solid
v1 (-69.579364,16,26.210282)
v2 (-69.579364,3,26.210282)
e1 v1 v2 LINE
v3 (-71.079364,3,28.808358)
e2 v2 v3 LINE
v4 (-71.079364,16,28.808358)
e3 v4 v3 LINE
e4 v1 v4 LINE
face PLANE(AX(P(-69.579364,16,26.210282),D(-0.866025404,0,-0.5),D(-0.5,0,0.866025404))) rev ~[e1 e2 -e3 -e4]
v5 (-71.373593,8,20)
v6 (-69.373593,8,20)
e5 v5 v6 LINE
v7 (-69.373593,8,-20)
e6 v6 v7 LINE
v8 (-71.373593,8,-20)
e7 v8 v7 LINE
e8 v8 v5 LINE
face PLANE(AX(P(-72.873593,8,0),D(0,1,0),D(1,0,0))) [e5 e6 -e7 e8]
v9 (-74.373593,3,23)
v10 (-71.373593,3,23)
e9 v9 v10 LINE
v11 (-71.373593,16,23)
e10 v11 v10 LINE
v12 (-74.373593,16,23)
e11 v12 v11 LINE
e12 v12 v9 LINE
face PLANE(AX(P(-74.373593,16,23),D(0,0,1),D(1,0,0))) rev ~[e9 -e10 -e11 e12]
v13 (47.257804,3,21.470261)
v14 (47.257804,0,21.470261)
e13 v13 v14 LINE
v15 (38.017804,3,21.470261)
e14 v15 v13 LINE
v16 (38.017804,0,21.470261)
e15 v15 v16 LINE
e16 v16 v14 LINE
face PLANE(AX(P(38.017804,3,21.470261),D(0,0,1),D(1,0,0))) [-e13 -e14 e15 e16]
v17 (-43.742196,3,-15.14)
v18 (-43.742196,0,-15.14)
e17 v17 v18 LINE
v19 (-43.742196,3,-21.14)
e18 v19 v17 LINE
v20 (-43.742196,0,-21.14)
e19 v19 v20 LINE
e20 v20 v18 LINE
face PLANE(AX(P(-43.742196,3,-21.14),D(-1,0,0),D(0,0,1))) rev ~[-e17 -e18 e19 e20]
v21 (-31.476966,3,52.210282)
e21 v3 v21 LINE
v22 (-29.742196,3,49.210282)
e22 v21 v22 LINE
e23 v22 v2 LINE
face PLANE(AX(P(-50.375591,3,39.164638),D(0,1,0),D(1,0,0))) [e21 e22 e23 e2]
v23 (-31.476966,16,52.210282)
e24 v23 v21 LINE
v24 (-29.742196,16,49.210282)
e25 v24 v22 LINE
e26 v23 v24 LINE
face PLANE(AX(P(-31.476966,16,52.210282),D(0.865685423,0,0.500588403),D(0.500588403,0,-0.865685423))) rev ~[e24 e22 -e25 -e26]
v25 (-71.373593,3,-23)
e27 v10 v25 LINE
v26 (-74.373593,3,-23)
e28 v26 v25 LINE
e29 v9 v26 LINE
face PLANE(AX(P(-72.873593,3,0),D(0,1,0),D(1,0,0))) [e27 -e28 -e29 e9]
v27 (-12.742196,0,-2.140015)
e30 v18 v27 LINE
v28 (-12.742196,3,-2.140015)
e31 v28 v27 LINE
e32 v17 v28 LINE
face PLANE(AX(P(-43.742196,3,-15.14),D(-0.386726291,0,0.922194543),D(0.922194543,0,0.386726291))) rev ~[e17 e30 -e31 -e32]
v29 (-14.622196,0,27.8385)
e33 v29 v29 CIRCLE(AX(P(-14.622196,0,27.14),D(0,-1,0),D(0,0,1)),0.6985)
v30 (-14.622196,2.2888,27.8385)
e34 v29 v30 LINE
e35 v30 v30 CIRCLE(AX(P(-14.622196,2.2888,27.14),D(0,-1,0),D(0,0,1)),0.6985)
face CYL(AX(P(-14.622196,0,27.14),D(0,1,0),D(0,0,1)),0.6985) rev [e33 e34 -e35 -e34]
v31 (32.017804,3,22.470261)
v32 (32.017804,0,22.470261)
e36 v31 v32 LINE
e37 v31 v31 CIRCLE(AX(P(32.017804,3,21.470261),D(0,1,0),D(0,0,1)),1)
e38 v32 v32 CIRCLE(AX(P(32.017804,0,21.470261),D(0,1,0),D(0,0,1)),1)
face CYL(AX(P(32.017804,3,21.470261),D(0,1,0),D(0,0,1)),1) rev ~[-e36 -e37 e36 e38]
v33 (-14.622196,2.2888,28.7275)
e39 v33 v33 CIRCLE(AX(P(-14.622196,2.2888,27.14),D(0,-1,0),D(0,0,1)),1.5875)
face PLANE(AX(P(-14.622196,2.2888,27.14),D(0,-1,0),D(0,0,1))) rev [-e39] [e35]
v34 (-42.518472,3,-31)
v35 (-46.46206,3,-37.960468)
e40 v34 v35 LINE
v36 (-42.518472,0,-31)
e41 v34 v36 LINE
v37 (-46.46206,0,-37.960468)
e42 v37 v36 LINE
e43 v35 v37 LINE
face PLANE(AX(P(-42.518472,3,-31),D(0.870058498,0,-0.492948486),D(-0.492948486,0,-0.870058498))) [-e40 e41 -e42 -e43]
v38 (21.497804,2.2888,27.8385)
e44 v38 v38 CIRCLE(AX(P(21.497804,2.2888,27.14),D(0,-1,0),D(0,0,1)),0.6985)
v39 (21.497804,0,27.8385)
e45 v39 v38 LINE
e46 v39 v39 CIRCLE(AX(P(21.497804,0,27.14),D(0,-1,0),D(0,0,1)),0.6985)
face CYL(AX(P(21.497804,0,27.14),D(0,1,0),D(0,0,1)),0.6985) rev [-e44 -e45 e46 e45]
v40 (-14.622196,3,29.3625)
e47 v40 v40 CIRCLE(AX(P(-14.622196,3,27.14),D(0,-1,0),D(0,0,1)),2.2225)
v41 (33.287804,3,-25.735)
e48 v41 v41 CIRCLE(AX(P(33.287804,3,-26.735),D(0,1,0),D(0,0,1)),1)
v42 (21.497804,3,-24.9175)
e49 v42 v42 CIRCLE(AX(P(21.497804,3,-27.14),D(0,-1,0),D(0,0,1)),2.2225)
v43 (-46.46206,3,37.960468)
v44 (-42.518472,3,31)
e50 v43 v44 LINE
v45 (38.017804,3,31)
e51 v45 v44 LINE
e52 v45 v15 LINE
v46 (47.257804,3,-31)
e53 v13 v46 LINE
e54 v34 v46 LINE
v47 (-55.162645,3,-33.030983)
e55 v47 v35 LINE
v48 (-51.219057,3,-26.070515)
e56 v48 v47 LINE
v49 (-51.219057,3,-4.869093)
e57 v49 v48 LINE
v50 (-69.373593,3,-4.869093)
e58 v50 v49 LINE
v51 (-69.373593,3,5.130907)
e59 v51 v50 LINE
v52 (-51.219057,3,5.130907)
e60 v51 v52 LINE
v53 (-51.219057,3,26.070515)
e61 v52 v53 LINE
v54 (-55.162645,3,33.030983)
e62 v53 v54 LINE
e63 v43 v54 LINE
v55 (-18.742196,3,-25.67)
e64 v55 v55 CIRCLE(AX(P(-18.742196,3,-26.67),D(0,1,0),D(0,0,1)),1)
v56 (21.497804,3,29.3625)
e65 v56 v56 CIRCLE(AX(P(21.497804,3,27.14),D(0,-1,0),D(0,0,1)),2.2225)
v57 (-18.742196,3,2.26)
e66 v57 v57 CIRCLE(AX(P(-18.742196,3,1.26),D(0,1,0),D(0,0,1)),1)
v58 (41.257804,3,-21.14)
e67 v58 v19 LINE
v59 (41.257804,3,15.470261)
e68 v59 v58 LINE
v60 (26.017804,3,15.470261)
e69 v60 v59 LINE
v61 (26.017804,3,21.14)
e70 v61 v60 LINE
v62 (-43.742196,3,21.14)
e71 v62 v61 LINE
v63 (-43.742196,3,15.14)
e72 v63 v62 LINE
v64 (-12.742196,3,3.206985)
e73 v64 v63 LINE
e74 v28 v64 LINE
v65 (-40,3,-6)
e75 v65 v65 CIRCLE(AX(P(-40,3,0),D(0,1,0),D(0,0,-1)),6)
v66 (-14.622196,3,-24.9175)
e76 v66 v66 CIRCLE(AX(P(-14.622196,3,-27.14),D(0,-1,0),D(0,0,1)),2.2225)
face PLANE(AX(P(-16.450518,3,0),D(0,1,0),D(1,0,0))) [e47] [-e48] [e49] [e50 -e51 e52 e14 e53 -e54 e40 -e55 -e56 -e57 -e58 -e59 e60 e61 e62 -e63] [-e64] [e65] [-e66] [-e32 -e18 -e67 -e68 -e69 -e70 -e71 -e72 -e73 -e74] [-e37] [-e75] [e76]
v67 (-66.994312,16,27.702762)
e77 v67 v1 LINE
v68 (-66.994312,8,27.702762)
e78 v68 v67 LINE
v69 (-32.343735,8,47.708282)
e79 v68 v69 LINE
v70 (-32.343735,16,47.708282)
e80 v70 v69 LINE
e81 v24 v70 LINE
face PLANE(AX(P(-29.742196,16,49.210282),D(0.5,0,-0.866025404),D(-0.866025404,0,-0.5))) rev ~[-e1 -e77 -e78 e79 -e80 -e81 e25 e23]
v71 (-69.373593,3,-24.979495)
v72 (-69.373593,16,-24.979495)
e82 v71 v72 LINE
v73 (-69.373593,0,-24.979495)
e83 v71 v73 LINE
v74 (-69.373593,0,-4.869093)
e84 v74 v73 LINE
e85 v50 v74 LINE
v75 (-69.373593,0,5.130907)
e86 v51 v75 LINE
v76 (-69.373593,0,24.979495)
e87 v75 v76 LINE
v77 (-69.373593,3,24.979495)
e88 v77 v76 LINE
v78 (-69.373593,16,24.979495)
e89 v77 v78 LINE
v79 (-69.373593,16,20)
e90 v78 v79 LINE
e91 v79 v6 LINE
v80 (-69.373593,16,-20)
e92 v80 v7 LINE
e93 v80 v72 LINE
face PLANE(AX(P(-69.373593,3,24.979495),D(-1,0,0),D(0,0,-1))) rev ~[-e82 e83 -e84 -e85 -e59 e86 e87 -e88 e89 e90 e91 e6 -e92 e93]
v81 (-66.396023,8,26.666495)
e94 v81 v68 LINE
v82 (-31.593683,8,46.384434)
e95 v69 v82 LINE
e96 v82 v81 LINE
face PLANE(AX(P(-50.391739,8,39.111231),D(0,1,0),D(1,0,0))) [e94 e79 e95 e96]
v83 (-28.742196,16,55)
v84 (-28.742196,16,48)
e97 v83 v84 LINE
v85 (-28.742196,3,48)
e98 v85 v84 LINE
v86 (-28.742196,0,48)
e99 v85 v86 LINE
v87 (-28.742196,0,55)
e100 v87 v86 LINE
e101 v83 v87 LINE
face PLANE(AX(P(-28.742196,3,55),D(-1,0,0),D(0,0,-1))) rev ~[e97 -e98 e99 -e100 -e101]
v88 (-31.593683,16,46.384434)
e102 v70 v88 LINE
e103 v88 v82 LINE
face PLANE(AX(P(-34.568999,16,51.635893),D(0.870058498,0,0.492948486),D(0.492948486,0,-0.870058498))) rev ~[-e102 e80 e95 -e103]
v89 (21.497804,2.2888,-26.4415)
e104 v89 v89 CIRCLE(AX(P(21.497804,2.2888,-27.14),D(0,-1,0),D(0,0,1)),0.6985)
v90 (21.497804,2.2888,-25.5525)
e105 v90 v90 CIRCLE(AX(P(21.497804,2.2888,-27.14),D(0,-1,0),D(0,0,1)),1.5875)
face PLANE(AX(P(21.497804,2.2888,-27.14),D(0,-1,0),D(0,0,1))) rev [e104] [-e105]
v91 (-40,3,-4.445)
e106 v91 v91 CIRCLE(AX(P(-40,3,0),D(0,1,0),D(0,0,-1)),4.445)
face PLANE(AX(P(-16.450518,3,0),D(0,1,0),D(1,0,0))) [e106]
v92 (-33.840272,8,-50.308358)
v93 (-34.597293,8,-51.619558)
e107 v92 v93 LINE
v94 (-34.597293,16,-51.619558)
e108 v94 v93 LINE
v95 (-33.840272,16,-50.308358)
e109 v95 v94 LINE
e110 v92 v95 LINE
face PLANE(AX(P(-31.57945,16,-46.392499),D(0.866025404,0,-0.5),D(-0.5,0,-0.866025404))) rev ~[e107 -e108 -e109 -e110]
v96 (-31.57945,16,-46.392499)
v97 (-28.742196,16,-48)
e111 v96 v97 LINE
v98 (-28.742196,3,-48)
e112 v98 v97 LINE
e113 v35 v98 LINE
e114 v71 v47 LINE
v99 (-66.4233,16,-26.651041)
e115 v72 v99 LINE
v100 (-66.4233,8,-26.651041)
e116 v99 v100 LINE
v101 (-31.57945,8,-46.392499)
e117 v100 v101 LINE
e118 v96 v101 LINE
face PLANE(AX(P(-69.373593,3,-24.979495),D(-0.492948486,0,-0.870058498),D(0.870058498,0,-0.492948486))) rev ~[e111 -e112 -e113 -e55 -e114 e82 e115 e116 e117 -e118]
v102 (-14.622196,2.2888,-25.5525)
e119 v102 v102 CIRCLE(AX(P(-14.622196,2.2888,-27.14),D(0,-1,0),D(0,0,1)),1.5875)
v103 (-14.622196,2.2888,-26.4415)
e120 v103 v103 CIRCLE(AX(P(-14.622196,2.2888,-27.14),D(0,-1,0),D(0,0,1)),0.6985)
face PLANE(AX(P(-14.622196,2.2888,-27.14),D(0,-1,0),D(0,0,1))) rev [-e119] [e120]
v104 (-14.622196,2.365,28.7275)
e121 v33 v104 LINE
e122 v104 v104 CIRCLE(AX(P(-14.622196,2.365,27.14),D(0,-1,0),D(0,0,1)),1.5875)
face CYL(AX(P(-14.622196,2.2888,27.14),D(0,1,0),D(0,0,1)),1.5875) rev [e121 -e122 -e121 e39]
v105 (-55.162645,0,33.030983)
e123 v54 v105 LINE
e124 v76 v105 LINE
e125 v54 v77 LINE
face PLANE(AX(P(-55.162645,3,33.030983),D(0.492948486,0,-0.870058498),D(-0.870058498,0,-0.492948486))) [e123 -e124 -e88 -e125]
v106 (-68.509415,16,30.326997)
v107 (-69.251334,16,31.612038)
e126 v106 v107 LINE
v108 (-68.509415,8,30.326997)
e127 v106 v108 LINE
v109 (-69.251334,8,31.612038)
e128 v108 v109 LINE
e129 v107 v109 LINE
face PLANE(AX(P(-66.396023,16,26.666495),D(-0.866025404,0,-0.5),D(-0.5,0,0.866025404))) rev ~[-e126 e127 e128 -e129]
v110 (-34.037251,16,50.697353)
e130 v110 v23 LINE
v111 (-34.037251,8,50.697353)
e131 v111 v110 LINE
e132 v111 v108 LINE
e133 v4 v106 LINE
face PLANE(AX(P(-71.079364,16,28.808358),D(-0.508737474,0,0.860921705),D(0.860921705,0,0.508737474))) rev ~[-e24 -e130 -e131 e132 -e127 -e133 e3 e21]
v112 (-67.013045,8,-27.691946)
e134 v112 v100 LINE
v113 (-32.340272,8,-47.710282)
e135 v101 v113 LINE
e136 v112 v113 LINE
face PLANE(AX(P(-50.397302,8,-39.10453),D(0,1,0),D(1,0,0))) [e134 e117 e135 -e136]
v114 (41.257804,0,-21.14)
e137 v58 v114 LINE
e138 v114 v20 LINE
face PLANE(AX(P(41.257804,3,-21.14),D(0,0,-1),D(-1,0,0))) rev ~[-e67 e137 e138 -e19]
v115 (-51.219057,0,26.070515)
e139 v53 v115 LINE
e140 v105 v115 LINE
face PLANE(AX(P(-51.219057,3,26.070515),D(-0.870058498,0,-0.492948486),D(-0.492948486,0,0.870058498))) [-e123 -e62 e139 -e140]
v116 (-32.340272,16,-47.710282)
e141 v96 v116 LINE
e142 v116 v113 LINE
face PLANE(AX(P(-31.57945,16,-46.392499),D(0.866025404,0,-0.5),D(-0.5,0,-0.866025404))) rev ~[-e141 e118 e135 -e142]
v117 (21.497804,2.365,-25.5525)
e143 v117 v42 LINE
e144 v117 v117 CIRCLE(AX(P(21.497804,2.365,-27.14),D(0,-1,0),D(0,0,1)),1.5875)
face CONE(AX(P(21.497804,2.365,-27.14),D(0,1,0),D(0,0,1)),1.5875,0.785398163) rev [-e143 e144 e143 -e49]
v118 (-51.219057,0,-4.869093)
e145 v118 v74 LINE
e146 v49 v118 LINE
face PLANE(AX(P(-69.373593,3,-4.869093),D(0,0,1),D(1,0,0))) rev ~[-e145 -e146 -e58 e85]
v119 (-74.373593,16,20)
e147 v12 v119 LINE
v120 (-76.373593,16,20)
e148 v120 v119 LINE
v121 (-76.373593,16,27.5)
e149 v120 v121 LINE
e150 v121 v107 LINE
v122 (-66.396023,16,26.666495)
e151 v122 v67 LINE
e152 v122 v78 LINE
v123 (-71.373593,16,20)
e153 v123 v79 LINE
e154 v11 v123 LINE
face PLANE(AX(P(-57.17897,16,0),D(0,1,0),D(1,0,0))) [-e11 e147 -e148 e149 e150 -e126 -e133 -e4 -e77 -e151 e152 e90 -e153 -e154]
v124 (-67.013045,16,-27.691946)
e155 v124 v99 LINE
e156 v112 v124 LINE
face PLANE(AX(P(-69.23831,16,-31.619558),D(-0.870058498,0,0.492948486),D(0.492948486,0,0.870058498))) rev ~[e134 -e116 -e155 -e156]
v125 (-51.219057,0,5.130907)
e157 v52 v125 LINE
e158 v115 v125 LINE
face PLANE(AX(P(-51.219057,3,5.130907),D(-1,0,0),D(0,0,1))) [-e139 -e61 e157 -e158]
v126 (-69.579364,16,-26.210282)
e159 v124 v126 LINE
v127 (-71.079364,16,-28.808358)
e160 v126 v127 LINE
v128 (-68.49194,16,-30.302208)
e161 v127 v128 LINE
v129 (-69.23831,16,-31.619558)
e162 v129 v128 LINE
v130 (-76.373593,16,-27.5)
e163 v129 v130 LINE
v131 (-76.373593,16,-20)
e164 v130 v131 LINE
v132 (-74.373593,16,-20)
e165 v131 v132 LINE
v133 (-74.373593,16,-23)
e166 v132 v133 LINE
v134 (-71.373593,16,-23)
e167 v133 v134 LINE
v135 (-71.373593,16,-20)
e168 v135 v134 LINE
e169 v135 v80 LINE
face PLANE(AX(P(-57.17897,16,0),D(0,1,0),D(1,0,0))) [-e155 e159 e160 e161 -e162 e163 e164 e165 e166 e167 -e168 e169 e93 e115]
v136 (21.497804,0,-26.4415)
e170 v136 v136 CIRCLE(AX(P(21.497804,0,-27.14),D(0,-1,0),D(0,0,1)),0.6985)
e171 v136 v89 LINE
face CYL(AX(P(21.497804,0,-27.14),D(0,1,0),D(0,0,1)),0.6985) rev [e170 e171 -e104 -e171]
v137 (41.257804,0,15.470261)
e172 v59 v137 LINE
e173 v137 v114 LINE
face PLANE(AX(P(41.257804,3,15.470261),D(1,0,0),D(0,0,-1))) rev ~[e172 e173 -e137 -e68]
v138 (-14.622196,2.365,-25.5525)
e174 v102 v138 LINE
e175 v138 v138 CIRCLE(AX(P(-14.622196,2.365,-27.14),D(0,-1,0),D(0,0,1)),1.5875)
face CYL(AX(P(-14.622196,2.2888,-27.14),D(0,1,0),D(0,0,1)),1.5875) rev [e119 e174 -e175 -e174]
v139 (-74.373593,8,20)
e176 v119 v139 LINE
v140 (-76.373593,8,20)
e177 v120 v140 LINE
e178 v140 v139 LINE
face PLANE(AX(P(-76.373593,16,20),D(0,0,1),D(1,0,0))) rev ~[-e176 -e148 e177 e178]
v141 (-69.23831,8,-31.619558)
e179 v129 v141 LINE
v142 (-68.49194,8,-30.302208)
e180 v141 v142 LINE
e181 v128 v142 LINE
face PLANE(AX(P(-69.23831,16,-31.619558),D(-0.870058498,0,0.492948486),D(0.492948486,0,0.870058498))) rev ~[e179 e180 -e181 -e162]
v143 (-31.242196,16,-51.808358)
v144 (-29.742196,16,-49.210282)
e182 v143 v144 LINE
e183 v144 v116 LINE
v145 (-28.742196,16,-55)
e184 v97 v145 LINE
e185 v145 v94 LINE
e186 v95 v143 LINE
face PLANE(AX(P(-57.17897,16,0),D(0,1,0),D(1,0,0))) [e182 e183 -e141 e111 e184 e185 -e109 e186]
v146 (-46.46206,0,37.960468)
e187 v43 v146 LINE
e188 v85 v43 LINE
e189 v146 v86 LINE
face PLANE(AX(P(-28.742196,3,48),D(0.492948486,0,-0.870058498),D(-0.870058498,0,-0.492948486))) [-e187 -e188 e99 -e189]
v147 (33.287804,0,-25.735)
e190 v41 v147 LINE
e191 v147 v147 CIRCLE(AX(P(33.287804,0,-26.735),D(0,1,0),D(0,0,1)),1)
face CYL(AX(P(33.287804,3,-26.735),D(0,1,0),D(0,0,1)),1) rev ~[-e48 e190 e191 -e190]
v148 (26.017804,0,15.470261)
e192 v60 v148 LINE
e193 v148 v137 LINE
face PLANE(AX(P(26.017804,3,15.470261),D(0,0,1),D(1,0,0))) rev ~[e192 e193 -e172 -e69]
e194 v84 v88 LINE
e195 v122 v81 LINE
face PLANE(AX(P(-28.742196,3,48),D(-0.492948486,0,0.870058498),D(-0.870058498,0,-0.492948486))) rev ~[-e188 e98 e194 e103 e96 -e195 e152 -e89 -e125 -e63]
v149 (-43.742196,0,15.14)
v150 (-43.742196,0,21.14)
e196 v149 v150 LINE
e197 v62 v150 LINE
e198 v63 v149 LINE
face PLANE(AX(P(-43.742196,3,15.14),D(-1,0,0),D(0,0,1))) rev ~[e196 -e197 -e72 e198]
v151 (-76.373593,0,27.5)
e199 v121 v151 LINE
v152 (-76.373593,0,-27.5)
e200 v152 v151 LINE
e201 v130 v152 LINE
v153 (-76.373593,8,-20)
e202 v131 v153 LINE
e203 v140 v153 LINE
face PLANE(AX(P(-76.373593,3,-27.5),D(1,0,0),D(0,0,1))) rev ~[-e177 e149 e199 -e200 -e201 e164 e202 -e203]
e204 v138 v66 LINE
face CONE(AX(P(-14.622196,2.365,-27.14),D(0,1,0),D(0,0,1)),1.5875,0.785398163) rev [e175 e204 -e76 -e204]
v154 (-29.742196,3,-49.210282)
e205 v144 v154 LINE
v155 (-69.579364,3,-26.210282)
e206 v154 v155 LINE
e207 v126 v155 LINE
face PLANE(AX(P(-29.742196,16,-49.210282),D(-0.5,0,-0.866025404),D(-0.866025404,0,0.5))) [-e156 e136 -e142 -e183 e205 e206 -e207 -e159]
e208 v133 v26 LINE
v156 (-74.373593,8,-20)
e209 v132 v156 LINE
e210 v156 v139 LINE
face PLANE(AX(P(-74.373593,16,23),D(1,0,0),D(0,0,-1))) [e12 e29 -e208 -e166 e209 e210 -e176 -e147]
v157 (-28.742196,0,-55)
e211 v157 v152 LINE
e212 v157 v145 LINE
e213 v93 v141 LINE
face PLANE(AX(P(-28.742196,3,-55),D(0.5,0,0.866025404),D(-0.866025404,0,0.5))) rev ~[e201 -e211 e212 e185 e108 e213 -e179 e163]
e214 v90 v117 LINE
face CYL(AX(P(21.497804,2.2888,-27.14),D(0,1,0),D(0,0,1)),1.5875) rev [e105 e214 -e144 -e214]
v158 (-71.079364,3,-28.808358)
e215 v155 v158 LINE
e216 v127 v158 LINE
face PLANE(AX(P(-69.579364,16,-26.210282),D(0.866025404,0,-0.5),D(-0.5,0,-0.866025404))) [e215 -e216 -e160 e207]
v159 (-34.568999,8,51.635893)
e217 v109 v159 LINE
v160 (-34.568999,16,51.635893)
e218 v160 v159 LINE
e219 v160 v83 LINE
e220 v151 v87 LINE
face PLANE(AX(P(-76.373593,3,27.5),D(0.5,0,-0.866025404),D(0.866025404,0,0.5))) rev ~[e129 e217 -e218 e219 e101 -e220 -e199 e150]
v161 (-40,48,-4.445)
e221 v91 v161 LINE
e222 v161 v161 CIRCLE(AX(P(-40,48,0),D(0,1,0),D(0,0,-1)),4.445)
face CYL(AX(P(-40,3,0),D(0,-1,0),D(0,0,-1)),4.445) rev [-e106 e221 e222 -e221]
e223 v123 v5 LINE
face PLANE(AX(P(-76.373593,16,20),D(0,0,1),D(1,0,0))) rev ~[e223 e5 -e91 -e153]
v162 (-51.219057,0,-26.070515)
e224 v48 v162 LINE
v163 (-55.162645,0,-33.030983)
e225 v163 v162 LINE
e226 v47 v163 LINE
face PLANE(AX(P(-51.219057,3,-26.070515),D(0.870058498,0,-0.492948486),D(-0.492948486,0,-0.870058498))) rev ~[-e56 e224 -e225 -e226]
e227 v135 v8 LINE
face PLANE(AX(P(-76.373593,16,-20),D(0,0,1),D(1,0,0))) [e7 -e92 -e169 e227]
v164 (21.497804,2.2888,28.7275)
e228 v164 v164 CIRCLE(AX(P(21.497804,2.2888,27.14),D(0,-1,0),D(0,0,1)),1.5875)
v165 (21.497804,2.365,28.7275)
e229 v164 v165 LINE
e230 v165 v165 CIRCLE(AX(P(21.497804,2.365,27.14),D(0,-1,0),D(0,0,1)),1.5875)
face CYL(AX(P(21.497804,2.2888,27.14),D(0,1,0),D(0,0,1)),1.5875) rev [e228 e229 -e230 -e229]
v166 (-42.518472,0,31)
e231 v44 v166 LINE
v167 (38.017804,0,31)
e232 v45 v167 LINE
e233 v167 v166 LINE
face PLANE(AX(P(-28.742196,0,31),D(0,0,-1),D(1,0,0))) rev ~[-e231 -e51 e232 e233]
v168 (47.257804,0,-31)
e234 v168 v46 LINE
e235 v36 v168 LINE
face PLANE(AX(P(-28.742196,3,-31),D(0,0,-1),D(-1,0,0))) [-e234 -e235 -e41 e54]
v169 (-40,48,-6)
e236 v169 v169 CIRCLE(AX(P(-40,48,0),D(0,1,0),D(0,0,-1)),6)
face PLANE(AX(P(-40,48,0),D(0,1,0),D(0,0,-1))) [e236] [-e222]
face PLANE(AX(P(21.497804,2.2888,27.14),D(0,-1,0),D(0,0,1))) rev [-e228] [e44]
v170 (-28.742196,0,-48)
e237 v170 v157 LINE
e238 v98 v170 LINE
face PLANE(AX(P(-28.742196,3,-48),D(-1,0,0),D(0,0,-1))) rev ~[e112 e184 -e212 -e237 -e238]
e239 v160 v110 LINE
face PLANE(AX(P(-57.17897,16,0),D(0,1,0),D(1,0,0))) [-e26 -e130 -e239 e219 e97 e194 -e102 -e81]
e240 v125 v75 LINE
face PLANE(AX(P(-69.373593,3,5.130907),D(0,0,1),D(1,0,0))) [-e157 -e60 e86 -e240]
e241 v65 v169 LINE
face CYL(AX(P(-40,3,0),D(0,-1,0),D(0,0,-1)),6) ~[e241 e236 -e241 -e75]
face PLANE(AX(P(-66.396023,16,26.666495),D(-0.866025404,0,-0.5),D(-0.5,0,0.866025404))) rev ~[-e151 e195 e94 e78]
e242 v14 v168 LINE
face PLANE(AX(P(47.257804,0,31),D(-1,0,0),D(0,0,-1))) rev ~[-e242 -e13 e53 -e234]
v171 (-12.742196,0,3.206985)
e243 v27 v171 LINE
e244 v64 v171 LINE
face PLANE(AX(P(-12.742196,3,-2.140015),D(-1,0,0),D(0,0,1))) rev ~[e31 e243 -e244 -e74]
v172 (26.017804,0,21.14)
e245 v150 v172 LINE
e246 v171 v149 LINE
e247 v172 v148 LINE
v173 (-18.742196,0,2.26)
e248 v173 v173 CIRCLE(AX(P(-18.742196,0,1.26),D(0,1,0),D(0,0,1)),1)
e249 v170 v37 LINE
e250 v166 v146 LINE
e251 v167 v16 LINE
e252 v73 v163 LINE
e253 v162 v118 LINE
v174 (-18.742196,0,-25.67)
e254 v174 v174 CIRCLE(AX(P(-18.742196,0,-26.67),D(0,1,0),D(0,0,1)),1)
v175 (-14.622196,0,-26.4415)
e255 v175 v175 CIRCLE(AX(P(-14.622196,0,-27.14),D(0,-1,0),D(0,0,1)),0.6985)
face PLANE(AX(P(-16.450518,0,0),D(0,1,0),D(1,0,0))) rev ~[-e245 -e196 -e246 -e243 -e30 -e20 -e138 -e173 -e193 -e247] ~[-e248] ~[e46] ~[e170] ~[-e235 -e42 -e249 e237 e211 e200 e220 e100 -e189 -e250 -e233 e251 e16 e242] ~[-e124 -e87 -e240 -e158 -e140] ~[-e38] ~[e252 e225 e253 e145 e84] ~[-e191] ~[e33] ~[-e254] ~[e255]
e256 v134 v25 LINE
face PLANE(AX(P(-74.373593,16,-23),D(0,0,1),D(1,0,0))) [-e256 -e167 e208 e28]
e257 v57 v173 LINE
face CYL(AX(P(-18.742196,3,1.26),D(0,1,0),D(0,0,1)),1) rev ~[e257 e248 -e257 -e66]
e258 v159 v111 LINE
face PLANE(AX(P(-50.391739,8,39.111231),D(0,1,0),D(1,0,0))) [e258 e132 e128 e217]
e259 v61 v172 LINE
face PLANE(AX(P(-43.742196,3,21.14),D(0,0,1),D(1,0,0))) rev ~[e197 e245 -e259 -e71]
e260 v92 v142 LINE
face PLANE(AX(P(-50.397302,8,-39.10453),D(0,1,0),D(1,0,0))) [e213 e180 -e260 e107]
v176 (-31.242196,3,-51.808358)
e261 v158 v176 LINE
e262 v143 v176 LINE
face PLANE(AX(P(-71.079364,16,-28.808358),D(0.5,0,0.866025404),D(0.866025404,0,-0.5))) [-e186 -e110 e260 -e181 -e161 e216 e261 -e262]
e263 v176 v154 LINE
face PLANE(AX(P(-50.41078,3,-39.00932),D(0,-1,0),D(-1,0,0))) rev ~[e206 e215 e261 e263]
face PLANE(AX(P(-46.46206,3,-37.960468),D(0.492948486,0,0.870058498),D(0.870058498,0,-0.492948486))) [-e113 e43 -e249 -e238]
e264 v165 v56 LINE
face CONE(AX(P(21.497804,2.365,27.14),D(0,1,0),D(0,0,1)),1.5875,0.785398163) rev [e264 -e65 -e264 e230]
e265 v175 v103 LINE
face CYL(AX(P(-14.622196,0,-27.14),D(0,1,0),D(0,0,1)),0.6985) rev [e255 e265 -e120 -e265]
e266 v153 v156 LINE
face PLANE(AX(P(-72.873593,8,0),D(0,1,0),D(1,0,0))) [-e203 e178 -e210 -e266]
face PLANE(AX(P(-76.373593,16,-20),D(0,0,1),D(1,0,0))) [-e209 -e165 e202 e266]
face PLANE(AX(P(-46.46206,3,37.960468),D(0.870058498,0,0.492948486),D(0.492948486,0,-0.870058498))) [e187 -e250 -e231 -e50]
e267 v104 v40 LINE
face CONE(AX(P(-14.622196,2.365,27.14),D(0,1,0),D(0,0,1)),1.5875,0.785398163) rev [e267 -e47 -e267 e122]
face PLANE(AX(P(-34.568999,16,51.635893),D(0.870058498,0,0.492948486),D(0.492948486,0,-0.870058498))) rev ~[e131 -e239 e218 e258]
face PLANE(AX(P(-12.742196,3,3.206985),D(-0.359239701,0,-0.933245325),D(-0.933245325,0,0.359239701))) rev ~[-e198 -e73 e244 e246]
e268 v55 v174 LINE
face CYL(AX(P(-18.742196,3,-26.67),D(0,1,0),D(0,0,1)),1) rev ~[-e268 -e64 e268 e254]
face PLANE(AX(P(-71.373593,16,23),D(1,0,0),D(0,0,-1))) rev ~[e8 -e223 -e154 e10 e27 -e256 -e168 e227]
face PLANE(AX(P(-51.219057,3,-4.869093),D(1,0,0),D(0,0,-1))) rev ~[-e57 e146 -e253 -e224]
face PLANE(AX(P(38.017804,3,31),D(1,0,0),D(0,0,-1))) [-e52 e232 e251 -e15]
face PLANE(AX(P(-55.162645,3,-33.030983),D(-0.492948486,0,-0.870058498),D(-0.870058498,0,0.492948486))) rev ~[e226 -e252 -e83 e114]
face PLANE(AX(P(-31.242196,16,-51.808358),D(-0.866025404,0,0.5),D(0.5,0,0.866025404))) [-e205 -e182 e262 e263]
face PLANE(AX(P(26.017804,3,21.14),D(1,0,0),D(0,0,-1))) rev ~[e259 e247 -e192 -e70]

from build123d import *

# Parameters (mm, degrees)
BOSS_EXTRUDE1_DEPTH                         = 3
BOSS_EXTRUDE7_DEPTH                         = 13
SKETCH14_W                                  = 3
SKETCH14_H                                  = 46
CUT_EXTRUDE1_DEPTH                          = 13
SKETCH15_W                                  = 7
SKETCH15_H                                  = 40
CUT_EXTRUDE3_DEPTH                          = 8
CUT_EXTRUDE5_REACH                          = 97.01
SKETCH18_R                                  = 6
SKETCH18_R_2                                = 4.445
BOSS_EXTRUDE8_DEPTH                         = 45
CBORE_FOR_00_BINDING_HEAD_MACHINE_S_2_COUNT = 2
CBORE_FOR_00_BINDING_HEAD_MACHINE_S_2_PITCH = 54.28
CBORE_FOR_00_BINDING_HEAD_MACHINE_S_3_COUNT = 2
CBORE_FOR_00_BINDING_HEAD_MACHINE_S_3_PITCH = 65.199484661
CBORE_FOR_00_BINDING_HEAD_MACHINE_S_4_COUNT = 2
CBORE_FOR_00_BINDING_HEAD_MACHINE_S_4_PITCH = 36.12
SKETCH22_R                                  = 1
CUT_EXTRUDE6_DEPTH                          = 105.321261807
CUT_EXTRUDE8_DEPTH                          = 105.321261807
SKETCH24_W                                  = 9.24
SKETCH24_H                                  = 9.529738598
CUT_EXTRUDE9_DEPTH                          = 105.321261807


with BuildPart() as part:
    # Sketch1 → Boss-Extrude1 (new body)
    with BuildSketch(Plane(origin=(0, 0, 0), x_dir=(1, 0, 0), z_dir=(0, 1, 0))):
        Polygon((-76.37359272, 27.5), (-76.37359272, -27.5), (-28.742195512, -55), (-28.742195512, -31), (47.257804488, -31), (47.257804488, 31), (-28.742195512, 31), (-28.742195512, 55), align=None)
    extrude(amount=BOSS_EXTRUDE1_DEPTH)

    # Sketch11 → Boss-Extrude7 (add)
    with BuildSketch(Plane(origin=(0, 3, 0), x_dir=(1, 0, 0), z_dir=(0, 1, 0))):
        Polygon((-28.742195512, -55), (-28.742195512, -48), (-69.37359272, -24.979495292), (-69.37359272, 24.979495292), (-28.742195512, 48), (-28.742195512, 55), (-76.37359272, 27.5), (-76.37359272, -27.5), align=None)
    extrude(amount=BOSS_EXTRUDE7_DEPTH)

    # Sketch14 → Cut-Extrude1 (cut)
    with BuildSketch(Plane(origin=(0, 16, 0), x_dir=(1, 0, 0), z_dir=(0, 1, 0))):
        Polygon((-29.742195512, 49.210281508), (-69.579364086, 26.210281508), (-71.079364086, 28.80835772), (-31.242195512, 51.80835772), align=None)
        with Locations((-72.87359272, 0)):
            Rectangle(SKETCH14_W, SKETCH14_H)
        Polygon((-71.079364086, -28.80835772), (-31.476965636, -52.210281508), (-29.742195512, -49.210281508), (-69.579364086, -26.210281508), align=None)
    extrude(amount=-CUT_EXTRUDE1_DEPTH, mode=Mode.SUBTRACT)

    # Sketch15 → Cut-Extrude3 (cut)
    with BuildSketch(Plane(origin=(0, 16, 0), x_dir=(1, 0, 0), z_dir=(0, 1, 0))):
        with Locations((-72.87359272, 0)):
            Rectangle(SKETCH15_W, SKETCH15_H)
        Polygon((-69.238309522, 31.619557675), (-66.423300051, 26.651040721), (-31.579449527, 46.392498809), (-34.59729337, 51.619557675), align=None)
        Polygon((-66.396023158, -26.666494973), (-69.251333812, -31.612038098), (-34.568999008, -51.635893433), (-31.593683239, -46.384434424), align=None)
    extrude(amount=-CUT_EXTRUDE3_DEPTH, mode=Mode.SUBTRACT)

    # Sketch17 → Cut-Extrude5 (cut, up to next)
    with BuildSketch(Plane(origin=(0, 3, 0), x_dir=(1, 0, 0), z_dir=(0, 1, 0)), mode=Mode.PRIVATE) as cut_extrude5_sk1:
        Polygon((-69.37359272, -24.979495292), (-69.37359272, -5.130907192), (-51.219056623, -5.130907192), (-51.219056623, -26.070515137), (-55.162644513, -33.030983121), align=None)
    cut_extrude5_tool1 = extrude(cut_extrude5_sk1.sketch, amount=-CUT_EXTRUDE5_REACH, mode=Mode.PRIVATE) & part.part
    # Sketch17 → Cut-Extrude5 (cut, up to next)
    with BuildSketch(Plane(origin=(0, 3, 0), x_dir=(1, 0, 0), z_dir=(0, 1, 0)), mode=Mode.PRIVATE) as cut_extrude5_sk2:
        Polygon((-69.37359272, 24.979495292), (-69.37359272, 4.869092808), (-51.219056623, 4.869092808), (-51.219056623, 26.070515137), (-55.162644513, 33.030983121), align=None)
    cut_extrude5_tool2 = extrude(cut_extrude5_sk2.sketch, amount=-CUT_EXTRUDE5_REACH, mode=Mode.PRIVATE) & part.part
    # Sketch17 → Cut-Extrude5 (cut, up to next)
    with BuildSketch(Plane(origin=(0, 3, 0), x_dir=(1, 0, 0), z_dir=(0, 1, 0)), mode=Mode.PRIVATE) as cut_extrude5_sk3:
        Polygon((-28.742195512, -48), (-46.462059534, -37.960467984), (-42.518471644, -31), (-28.742195512, -31), align=None)
    cut_extrude5_tool3 = extrude(cut_extrude5_sk3.sketch, amount=-CUT_EXTRUDE5_REACH, mode=Mode.PRIVATE) & part.part
    # Sketch17 → Cut-Extrude5 (cut, up to next)
    with BuildSketch(Plane(origin=(0, 3, 0), x_dir=(1, 0, 0), z_dir=(0, 1, 0)), mode=Mode.PRIVATE) as cut_extrude5_sk4:
        Polygon((-28.742195512, 31), (-42.518471644, 31), (-46.462059534, 37.960467984), (-28.742195512, 48), align=None)
    cut_extrude5_tool4 = extrude(cut_extrude5_sk4.sketch, amount=-CUT_EXTRUDE5_REACH, mode=Mode.PRIVATE) & part.part
    add(cut_extrude5_tool1.solids().sort_by_distance((-59.97086, 3, 17.234777))[0], mode=Mode.SUBTRACT)
    add(cut_extrude5_tool2.solids().sort_by_distance((-59.974373, 3, -17.10271))[0], mode=Mode.SUBTRACT)
    add(cut_extrude5_tool3.solids().sort_by_distance((-35.757612, 3, 37.618563))[0], mode=Mode.SUBTRACT)
    add(cut_extrude5_tool4.solids().sort_by_distance((-35.757612, 3, -37.618563))[0], mode=Mode.SUBTRACT)

    # Sketch18 → Boss-Extrude8 (add)
    with BuildSketch(Plane(origin=(0, 3, 0), x_dir=(1, 0, 0), z_dir=(0, 1, 0))):
        with Locations(Location((-40, 0, 0), (0, 0, 90))):
            Circle(SKETCH18_R)
        with Locations(Location((-40, 0, 0), (0, 0, 90))):
            Circle(SKETCH18_R_2, mode=Mode.SUBTRACT)
    extrude(amount=BOSS_EXTRUDE8_DEPTH)

    # Sketch21 → CBORE for #00 Binding Head Machine Screw1 (revolve, cut)
    with BuildSketch(Plane(origin=(-14.622195512, 3, 27.14), x_dir=(0, 0, 1), z_dir=(1, 0, 0))):
        Polygon((0, 0), (0, 3), (0.6985, 3), (0.6985, 0.7112), (1.5875, 0.7112), (1.5875, 0.635), (2.2225, 0), align=None)
    cbore_for_00_binding_head_machine_screw = revolve(axis=Axis((-14.622195512, 9.35, 27.14), (0, -1, 0)), mode=Mode.SUBTRACT)

    # CBORE for _00 Binding Head Machine S 2: CBORE for #00 Binding Head Machine Screw1 ×2
    with Locations(*[(0, 0, -i * CBORE_FOR_00_BINDING_HEAD_MACHINE_S_2_PITCH) for i in range(1, CBORE_FOR_00_BINDING_HEAD_MACHINE_S_2_COUNT)]):
        add(cbore_for_00_binding_head_machine_screw, mode=Mode.SUBTRACT)

    # CBORE for _00 Binding Head Machine S 3: CBORE for #00 Binding Head Machine Screw1 ×2
    with Locations(*[Vector(0.5539921088035915, 0, -0.832521917659439) * (i * CBORE_FOR_00_BINDING_HEAD_MACHINE_S_3_PITCH) for i in range(1, CBORE_FOR_00_BINDING_HEAD_MACHINE_S_3_COUNT)]):
        add(cbore_for_00_binding_head_machine_screw, mode=Mode.SUBTRACT)

    # CBORE for _00 Binding Head Machine S 4: CBORE for #00 Binding Head Machine Screw1 ×2
    with Locations(*[(i * CBORE_FOR_00_BINDING_HEAD_MACHINE_S_4_PITCH, 0, 0) for i in range(1, CBORE_FOR_00_BINDING_HEAD_MACHINE_S_4_COUNT)]):
        add(cbore_for_00_binding_head_machine_screw, mode=Mode.SUBTRACT)

    # Sketch22 → Cut-Extrude6 (cut, through all)
    with BuildSketch(Plane(origin=(0, 3, 0), x_dir=(1, 0, 0), z_dir=(0, 1, 0))):
        with Locations(Location((33.287804488, 26.734999831, 0), (0, 0, 270))):
            Circle(SKETCH22_R)
        with Locations(Location((32.017804488, -21.470261402, 0), (0, 0, 270))):
            Circle(SKETCH22_R)
        with Locations(Location((-18.742195512, 26.67, 0), (0, 0, 270))):
            Circle(SKETCH22_R)
        with Locations(Location((-18.742195512, -1.26, 0), (0, 0, 270))):
            Circle(SKETCH22_R)
    extrude(amount=-CUT_EXTRUDE6_DEPTH, mode=Mode.SUBTRACT)

    # Sketch23 → Cut-Extrude8 (cut, through all)
    with BuildSketch(Plane(origin=(0, 3, 0), x_dir=(1, 0, 0), z_dir=(0, 1, 0))):
        Polygon((-43.742195512, 21.14), (-43.742195512, 15.14), (-12.742195512, 2.140015237), (-12.742195512, -3.206984729), (-43.742195512, -15.14), (-43.742195512, -21.14), (26.017804488, -21.14), (26.017804488, -15.470261402), (41.257804488, -15.470261402), (41.257804488, 21.14), align=None)
    extrude(amount=-CUT_EXTRUDE8_DEPTH, mode=Mode.SUBTRACT)

    # Sketch24 → Cut-Extrude9 (cut, through all)
    with BuildSketch(Plane(origin=(0, 3, 0), x_dir=(1, 0, 0), z_dir=(0, 1, 0))):
        with Locations((42.637804488, -26.235130701)):
            Rectangle(SKETCH24_W, SKETCH24_H)
    extrude(amount=-CUT_EXTRUDE9_DEPTH, mode=Mode.SUBTRACT)


solid = part.part
